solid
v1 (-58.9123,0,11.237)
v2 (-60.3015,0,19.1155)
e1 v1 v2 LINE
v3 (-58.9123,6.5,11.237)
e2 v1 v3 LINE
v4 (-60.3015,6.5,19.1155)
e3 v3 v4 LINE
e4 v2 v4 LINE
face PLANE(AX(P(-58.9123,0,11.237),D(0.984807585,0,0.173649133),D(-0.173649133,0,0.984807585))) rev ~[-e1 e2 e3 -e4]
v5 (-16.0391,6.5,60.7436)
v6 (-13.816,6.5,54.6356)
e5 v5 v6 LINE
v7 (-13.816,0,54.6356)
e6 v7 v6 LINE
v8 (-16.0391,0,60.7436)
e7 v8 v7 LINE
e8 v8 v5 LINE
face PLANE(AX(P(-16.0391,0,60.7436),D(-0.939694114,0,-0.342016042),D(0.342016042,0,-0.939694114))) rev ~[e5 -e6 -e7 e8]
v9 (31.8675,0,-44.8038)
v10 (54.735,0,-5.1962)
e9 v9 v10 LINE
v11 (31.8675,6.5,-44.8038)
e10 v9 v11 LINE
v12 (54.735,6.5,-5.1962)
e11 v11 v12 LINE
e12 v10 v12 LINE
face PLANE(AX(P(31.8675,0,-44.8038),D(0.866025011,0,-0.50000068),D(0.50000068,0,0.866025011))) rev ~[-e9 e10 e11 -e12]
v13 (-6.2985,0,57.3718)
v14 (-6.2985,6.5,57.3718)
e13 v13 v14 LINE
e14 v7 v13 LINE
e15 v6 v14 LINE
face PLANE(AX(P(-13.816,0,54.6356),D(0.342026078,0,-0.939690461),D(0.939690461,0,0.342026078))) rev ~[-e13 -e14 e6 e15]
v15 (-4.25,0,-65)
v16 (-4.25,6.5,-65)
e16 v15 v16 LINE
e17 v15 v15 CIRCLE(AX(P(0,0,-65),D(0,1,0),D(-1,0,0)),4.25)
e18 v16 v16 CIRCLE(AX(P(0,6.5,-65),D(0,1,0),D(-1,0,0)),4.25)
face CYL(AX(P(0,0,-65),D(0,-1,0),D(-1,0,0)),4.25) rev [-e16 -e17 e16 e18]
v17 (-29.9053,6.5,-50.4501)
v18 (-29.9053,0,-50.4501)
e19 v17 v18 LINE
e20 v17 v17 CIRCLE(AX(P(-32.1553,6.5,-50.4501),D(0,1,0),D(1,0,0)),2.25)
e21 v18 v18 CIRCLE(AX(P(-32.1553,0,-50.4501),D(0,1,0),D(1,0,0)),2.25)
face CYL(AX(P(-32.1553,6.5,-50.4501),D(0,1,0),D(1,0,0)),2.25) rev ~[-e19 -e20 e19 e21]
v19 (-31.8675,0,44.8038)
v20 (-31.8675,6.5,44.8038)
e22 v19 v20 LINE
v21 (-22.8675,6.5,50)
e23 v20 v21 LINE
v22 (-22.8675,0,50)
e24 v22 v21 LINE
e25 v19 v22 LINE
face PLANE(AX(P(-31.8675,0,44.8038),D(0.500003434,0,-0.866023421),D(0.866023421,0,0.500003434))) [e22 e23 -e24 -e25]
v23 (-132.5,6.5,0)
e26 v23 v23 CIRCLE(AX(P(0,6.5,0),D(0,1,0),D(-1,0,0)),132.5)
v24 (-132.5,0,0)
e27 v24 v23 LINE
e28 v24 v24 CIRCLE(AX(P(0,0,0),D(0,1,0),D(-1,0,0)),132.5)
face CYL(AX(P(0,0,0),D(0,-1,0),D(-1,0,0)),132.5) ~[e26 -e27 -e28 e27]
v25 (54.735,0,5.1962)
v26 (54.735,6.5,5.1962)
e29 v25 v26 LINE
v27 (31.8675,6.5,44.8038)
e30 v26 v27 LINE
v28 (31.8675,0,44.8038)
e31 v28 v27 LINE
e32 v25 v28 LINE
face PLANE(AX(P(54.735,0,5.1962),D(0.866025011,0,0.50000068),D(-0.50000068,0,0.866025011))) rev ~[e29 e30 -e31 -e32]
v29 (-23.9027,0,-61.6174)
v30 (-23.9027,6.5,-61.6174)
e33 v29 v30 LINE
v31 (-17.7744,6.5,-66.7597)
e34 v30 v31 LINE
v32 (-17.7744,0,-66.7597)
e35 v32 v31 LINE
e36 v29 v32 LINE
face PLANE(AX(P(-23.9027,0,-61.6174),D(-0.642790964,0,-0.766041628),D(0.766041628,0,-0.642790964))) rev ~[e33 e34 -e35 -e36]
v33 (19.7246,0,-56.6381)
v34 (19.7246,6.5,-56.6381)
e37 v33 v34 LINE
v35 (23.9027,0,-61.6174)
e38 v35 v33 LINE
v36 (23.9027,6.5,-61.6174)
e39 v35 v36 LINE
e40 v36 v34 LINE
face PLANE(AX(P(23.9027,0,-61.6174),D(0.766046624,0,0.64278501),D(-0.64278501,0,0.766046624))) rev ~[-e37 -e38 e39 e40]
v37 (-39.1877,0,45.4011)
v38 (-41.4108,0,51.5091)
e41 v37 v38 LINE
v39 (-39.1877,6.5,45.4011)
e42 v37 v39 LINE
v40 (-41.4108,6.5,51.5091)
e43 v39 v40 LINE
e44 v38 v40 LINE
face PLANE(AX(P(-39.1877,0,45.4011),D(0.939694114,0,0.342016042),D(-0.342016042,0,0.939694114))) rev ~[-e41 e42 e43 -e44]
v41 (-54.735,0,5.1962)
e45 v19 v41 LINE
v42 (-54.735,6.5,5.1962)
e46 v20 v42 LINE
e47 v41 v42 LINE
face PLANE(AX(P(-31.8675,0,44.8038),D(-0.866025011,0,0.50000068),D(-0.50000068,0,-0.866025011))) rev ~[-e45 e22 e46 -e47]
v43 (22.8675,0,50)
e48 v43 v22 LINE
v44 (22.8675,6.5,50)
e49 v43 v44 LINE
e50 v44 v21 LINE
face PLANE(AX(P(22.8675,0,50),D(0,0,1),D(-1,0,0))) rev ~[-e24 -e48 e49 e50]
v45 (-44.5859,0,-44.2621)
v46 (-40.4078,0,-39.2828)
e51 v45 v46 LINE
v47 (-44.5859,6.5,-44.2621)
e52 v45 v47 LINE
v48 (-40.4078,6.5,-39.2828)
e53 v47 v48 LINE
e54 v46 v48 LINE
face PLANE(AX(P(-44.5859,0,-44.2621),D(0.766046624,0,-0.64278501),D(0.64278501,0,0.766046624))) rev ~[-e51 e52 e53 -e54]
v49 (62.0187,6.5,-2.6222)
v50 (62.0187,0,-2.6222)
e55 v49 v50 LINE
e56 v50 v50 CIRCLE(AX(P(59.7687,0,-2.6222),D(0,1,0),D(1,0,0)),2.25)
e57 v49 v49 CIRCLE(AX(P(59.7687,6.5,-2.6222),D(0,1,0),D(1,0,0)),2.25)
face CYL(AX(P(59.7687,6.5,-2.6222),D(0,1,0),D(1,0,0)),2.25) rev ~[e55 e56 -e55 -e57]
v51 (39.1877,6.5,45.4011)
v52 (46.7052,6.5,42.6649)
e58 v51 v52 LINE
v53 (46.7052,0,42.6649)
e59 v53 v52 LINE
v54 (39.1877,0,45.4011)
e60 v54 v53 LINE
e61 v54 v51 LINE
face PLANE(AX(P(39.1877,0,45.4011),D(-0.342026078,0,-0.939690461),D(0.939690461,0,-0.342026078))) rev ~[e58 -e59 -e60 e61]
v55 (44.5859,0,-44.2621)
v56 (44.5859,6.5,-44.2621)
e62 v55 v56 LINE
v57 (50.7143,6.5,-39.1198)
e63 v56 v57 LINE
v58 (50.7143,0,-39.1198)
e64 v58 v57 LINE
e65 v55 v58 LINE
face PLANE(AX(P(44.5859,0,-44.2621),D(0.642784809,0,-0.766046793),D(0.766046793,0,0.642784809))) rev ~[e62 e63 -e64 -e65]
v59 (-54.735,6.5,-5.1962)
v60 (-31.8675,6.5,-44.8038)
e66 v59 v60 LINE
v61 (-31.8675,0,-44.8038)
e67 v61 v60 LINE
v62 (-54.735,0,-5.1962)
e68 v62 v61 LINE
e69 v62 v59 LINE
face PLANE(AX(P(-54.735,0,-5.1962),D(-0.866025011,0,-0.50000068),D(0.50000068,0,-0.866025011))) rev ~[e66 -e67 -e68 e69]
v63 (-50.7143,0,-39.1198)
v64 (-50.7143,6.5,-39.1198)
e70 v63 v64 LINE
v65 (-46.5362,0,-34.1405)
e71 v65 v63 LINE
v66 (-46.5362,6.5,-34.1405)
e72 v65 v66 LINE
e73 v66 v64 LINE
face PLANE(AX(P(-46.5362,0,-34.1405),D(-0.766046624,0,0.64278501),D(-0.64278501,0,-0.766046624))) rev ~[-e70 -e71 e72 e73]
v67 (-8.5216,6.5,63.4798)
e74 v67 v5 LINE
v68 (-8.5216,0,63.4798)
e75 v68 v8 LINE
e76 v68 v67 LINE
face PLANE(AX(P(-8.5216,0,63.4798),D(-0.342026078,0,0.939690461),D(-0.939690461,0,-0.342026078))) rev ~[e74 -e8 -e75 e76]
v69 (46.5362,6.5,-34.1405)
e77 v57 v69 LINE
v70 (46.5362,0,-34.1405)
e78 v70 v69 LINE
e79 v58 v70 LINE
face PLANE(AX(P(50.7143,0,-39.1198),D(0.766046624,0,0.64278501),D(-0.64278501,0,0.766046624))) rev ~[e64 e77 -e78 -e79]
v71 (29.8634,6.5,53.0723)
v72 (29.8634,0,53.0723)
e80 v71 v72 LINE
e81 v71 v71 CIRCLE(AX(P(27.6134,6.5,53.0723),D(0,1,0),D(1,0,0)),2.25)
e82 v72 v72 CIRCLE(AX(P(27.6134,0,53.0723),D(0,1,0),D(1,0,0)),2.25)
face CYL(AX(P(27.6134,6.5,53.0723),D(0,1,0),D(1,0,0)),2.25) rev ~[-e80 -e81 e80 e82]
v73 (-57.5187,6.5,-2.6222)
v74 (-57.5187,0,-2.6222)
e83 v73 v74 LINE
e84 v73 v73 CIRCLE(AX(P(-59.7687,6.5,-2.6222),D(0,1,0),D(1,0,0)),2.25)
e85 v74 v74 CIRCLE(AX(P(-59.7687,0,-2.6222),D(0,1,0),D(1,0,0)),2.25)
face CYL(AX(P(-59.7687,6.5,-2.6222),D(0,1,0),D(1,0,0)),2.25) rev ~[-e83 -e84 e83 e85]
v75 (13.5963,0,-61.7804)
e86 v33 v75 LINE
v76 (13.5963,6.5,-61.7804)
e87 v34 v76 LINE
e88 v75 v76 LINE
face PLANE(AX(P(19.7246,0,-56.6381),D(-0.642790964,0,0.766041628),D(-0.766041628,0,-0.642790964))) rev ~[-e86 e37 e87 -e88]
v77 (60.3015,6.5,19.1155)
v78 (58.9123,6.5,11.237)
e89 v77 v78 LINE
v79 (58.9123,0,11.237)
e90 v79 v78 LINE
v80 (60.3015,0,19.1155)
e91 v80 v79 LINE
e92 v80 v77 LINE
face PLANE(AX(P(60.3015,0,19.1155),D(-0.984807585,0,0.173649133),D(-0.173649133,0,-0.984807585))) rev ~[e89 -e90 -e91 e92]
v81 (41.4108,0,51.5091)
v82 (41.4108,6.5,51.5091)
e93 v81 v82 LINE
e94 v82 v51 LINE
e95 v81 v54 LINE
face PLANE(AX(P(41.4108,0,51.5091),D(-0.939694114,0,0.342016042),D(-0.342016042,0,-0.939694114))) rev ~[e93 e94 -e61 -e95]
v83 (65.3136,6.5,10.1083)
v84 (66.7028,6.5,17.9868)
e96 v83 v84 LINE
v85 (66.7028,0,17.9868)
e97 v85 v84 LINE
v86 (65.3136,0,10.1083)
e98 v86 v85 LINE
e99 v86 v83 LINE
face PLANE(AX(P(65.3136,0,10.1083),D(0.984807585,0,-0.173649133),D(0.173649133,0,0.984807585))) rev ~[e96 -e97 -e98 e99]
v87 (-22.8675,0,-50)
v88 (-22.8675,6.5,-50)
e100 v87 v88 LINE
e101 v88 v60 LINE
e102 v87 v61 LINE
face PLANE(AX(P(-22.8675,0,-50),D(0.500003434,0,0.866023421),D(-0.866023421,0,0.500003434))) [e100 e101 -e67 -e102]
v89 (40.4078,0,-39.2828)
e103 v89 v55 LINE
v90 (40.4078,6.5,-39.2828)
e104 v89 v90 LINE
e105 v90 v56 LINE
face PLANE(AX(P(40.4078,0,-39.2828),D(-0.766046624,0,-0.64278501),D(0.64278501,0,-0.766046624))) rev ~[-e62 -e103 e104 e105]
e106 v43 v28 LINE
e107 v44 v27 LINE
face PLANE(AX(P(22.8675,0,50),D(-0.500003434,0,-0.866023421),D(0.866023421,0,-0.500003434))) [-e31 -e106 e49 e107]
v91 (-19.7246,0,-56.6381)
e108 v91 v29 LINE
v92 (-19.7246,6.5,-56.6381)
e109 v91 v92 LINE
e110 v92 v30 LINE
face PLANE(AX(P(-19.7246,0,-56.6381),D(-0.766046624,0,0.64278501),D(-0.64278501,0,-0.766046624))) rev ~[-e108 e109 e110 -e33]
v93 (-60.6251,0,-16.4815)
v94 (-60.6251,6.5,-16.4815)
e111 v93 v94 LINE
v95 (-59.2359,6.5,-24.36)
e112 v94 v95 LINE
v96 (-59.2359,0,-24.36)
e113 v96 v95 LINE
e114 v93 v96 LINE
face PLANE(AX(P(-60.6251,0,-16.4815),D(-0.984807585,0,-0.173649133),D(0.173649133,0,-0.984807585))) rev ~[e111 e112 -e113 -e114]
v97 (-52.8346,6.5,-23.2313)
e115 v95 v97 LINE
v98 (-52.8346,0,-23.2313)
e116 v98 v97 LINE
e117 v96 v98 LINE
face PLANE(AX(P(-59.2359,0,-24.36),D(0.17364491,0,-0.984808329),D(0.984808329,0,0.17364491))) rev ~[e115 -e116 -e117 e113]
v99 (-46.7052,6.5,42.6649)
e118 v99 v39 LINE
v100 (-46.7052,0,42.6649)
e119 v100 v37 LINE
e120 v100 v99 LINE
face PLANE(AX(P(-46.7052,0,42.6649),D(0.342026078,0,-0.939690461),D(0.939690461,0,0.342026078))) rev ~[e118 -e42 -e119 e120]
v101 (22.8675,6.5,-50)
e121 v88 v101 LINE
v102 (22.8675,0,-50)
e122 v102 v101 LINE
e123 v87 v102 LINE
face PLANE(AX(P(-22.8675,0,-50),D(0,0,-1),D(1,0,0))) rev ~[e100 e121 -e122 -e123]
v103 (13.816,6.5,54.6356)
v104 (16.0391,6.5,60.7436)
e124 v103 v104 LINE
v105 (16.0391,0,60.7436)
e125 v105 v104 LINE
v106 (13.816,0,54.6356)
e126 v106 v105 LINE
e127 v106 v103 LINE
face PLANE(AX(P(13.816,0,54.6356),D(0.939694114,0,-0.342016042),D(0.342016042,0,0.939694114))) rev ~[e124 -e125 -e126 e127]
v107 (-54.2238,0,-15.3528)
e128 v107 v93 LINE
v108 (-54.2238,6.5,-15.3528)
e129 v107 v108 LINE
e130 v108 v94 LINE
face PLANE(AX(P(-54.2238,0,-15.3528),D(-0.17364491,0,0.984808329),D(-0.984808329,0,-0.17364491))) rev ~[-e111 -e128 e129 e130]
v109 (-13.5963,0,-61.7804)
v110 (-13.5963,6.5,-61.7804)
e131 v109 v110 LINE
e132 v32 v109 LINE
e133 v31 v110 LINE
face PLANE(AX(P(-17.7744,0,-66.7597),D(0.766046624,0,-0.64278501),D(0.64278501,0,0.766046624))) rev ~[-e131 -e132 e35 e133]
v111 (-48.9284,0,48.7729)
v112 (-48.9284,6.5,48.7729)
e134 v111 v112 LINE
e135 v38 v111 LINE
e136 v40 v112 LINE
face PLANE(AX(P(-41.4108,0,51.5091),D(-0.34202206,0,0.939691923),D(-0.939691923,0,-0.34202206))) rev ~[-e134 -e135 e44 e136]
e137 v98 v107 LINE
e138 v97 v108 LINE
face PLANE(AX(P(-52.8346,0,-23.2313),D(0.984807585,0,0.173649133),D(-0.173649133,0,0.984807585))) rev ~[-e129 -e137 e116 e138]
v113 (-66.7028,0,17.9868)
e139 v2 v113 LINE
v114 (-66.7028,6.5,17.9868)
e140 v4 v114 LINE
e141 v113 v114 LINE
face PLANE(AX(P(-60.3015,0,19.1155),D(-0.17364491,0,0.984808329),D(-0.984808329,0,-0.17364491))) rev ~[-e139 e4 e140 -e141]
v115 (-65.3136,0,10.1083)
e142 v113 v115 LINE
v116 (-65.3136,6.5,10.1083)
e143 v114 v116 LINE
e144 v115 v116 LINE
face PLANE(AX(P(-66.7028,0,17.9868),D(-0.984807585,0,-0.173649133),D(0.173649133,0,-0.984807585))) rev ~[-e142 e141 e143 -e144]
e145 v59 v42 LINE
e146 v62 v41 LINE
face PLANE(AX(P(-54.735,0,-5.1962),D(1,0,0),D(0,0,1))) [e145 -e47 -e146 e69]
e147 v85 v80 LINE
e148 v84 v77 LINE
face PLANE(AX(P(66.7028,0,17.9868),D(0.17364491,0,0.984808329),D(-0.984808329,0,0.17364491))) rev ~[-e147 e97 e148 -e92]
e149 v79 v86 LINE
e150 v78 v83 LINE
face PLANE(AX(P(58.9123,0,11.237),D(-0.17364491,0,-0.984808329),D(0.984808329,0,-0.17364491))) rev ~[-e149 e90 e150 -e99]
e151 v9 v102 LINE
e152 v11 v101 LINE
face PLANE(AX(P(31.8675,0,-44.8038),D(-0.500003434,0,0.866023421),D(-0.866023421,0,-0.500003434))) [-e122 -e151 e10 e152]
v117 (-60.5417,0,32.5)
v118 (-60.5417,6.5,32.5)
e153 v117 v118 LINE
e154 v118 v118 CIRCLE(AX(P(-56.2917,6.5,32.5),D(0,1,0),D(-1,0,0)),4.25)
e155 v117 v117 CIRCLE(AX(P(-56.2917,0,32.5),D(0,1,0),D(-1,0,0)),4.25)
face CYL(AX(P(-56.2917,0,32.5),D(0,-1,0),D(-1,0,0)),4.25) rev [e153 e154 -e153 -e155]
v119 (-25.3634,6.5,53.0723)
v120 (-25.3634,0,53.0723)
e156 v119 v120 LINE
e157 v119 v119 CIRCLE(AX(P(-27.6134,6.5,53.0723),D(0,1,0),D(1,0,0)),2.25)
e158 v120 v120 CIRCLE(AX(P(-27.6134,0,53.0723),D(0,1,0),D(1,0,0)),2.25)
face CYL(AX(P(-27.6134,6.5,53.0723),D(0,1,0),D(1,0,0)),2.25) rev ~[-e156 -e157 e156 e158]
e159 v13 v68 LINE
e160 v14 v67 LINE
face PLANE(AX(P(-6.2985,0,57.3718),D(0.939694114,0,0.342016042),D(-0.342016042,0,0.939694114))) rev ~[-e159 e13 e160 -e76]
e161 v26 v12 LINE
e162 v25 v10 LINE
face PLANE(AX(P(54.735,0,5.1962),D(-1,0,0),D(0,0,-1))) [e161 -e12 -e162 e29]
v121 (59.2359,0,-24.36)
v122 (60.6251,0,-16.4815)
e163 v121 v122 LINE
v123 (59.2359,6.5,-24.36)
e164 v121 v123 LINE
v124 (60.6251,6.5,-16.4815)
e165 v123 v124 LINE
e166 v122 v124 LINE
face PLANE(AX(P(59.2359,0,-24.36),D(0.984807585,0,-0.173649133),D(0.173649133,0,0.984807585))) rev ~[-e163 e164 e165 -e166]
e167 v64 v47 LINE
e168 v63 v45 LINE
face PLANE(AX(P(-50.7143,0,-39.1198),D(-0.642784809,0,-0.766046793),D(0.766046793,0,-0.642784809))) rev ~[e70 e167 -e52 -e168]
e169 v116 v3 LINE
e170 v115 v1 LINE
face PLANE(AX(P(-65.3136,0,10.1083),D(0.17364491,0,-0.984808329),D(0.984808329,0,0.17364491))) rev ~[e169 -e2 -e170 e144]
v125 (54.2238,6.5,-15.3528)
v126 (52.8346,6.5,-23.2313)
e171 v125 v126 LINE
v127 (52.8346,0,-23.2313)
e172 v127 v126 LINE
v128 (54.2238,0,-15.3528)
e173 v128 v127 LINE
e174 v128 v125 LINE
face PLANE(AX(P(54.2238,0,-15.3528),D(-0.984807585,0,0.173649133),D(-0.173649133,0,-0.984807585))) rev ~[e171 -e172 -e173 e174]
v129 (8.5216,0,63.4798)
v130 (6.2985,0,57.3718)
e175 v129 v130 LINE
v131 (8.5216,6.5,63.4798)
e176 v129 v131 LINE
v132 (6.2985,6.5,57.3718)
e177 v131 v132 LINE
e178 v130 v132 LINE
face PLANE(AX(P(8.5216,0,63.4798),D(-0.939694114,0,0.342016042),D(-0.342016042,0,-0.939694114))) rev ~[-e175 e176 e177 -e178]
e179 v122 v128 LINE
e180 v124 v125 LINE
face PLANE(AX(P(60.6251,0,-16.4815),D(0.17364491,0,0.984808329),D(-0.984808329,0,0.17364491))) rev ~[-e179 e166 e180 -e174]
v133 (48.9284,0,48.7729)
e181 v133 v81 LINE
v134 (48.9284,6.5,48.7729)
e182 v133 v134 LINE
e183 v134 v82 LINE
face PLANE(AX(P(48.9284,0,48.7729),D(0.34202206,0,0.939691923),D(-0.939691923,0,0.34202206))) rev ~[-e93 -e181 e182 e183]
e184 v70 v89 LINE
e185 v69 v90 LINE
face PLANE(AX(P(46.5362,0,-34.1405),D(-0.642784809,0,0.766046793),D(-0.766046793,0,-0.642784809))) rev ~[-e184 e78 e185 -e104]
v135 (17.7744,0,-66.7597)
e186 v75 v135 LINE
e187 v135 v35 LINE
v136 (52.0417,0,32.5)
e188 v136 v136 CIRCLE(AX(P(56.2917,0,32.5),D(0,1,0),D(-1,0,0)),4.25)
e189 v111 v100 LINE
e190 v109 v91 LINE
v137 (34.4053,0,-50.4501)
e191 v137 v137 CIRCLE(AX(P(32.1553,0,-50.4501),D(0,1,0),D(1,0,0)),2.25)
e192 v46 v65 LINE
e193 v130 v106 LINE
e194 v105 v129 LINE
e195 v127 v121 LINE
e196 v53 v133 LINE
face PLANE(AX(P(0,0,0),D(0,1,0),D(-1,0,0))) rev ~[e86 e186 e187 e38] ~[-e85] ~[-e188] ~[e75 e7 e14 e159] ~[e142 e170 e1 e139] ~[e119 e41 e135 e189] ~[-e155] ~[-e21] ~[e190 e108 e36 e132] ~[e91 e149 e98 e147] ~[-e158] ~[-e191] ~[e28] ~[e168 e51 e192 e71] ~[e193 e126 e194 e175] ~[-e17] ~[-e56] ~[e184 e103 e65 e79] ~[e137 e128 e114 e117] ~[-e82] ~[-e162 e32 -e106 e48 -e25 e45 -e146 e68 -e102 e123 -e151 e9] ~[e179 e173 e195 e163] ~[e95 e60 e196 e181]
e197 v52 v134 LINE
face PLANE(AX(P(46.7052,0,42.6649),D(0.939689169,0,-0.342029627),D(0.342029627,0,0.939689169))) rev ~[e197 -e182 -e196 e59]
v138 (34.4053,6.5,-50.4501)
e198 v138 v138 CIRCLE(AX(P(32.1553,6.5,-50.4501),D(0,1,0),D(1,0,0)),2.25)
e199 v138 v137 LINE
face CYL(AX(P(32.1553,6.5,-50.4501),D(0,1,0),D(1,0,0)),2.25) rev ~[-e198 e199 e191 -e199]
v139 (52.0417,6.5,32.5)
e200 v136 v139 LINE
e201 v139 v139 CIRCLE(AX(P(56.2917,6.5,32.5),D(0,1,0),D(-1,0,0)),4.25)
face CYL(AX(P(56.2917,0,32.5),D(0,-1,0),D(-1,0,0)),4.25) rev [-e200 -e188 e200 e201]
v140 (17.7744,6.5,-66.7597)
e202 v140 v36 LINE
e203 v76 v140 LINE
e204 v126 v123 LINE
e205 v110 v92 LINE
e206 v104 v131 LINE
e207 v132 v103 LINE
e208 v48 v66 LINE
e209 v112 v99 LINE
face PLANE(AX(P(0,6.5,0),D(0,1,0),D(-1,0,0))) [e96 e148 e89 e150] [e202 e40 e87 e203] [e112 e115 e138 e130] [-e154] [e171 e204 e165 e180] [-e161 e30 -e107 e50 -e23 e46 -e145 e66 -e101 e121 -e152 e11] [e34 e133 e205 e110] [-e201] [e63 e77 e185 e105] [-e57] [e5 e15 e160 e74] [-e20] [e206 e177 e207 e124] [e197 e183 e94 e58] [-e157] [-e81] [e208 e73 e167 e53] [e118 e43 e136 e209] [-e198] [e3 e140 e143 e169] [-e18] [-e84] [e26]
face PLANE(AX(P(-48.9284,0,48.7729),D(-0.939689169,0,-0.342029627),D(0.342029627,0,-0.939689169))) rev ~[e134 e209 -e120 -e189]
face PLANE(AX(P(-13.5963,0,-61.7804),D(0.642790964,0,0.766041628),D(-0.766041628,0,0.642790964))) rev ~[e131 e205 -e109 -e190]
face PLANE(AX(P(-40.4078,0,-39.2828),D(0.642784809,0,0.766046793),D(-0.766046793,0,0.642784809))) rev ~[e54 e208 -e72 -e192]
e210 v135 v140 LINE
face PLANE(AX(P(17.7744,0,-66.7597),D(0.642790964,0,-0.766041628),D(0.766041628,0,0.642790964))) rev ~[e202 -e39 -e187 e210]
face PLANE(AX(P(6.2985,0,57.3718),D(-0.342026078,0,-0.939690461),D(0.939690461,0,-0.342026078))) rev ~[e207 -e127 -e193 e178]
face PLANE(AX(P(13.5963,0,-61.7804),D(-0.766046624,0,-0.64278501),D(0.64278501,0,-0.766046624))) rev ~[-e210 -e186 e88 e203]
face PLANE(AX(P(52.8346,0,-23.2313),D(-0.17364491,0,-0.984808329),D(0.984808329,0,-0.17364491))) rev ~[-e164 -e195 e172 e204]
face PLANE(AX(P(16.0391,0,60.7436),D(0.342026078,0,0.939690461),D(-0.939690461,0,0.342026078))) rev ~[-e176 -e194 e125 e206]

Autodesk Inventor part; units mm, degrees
ref_plane "YZ Plane" through (0, 0, 0) normal (1, 0, 0) x (0, 1, 0)
ref_plane "XZ Plane" through (0, 0, 0) normal (0, 1, 0) x (-1, 0, 0)
ref_plane "XY Plane" through (0, 0, 0) normal (0, 0, 1) x (1, 0, 0)
sketch "Sketch1" plane through (0, 0, 0) normal (0, 1, 0) x (-1, 0, 0)
  circle A0 centre (0, 0) radius 75 construction
  line L0 (67.7446, 23.8956) -> (61.3434, 25.0243) construction
  line L1 (61.3434, 25.0243) -> (51.7927, -29.1401) construction
  line L2 (51.7927, -29.1401) -> (58.194, -30.2688) construction
  line L3 (58.194, -30.2688) -> (67.7446, 23.8956) construction
  line L4 (55.3106, -35.2631) -> (51.1324, -30.2838) construction
  line L5 (51.1324, -30.2838) -> (9, -65.6371) construction
  line L6 (9, -65.6371) -> (13.1781, -70.6164) construction
  line L7 (13.1781, -70.6164) -> (55.3106, -35.2631) construction
  line L8 (-13.1781, -70.6164) -> (-9, -65.6371) construction
  line L9 (-9, -65.6371) -> (-51.1324, -30.2838) construction
  line L10 (-51.1324, -30.2838) -> (-55.3106, -35.2631) construction
  line L11 (-55.3106, -35.2631) -> (-13.1781, -70.6164) construction
  line L12 (-58.194, -30.2688) -> (-51.7927, -29.1401) construction
  line L13 (-51.7927, -29.1401) -> (-61.3434, 25.0243) construction
  line L14 (-61.3434, 25.0243) -> (-67.7446, 23.8956) construction
  line L15 (-67.7446, 23.8956) -> (-58.194, -30.2688) construction
  line L16 (52.3434, 40.6128) -> (54.5665, 46.7208) construction
  line L17 (54.5665, 46.7208) -> (2.8834, 65.5319) construction
  line L18 (2.8834, 65.5319) -> (0.6603, 59.4239) construction
  line L19 (0.6603, 59.4239) -> (52.3434, 40.6128) construction
  line L20 (-0.6603, 59.4239) -> (-2.8834, 65.5319) construction
  line L21 (-2.8834, 65.5319) -> (-54.5665, 46.7208) construction
  line L22 (-54.5665, 46.7208) -> (-52.3434, 40.6128) construction
  line L23 (-52.3434, 40.6128) -> (-0.6603, 59.4239) construction
  line L24 (9, -65.6371) -> (61.3434, 25.0243) construction
  line L25 (52.3434, 40.6128) -> (-52.3434, 40.6128) construction
  line L26 (-61.3434, 25.0243) -> (-9, -65.6371) construction
  arc A1 (67.7446, 23.8956) -> (54.5665, 46.7208) centre (45.8993, 26.5) ccw construction
  arc A2 (-13.1781, -70.6164) -> (13.1781, -70.6164) centre (0, -53) ccw construction
  arc A3 (-54.5665, 46.7208) -> (-67.7446, 23.8956) centre (-45.8993, 26.5) ccw construction
  circle A4 centre (56.2917, 32.5) radius 4.25
  circle A5 centre (0, 0) radius 132.5
  line L27 (-22.8675, 50) -> (22.8675, 50)
  line L28 (31.8675, 44.8038) -> (54.735, 5.1962)
  line L29 (54.735, -5.1962) -> (31.8675, -44.8038)
  line L30 (22.8675, -50) -> (-22.8675, -50)
  line L31 (-31.8675, -44.8038) -> (-54.735, -5.1962)
  line L32 (-54.735, 5.1962) -> (-31.8675, 44.8038)
  line L33 (54.735, -5.1962) -> (54.735, 5.1962)
  line L34 (31.8675, 44.8038) -> (22.8675, 50)
  line L35 (-22.8675, 50) -> (-31.8675, 44.8038)
  line L36 (-54.735, 5.1962) -> (-54.735, -5.1962)
  line L37 (-31.8675, -44.8038) -> (-22.8675, -50)
  line L38 (22.8675, -50) -> (31.8675, -44.8038)
  line L39 (45.8993, 26.5) -> (0, 0) construction
  line L40 (0, 0) -> (0, -53) construction
  line L41 (0, 0) -> (-45.8993, 26.5) construction
  circle A6 centre (0, -65) radius 4.25
  circle A7 centre (-56.2917, 32.5) radius 4.25
  line L42 (-60.3015, 19.1155) -> (-58.9123, 11.237)
  line L43 (-58.9123, 11.237) -> (-65.3136, 10.1083)
  line L44 (-65.3136, 10.1083) -> (-66.7028, 17.9868)
  line L45 (-66.7028, 17.9868) -> (-60.3015, 19.1155)
  line L46 (-19.7246, -56.6381) -> (-13.5963, -61.7804)
  line L47 (-13.5963, -61.7804) -> (-17.7744, -66.7597)
  line L48 (-17.7744, -66.7597) -> (-23.9027, -61.6174)
  line L49 (-23.9027, -61.6174) -> (-19.7246, -56.6381)
  line L50 (50.7143, -39.1198) -> (44.5859, -44.2621)
  line L51 (44.5859, -44.2621) -> (40.4078, -39.2828)
  line L52 (40.4078, -39.2828) -> (46.5362, -34.1405)
  line L53 (46.5362, -34.1405) -> (50.7143, -39.1198)
  line L54 (-46.5362, -34.1405) -> (-40.4078, -39.2828)
  line L55 (-40.4078, -39.2828) -> (-44.5859, -44.2621)
  line L56 (-44.5859, -44.2621) -> (-50.7143, -39.1198)
  line L57 (-50.7143, -39.1198) -> (-46.5362, -34.1405)
  line L58 (-54.2238, -15.3528) -> (-52.8346, -23.2313)
  line L59 (-52.8346, -23.2313) -> (-59.2359, -24.36)
  line L60 (-59.2359, -24.36) -> (-60.6251, -16.4815)
  line L61 (-60.6251, -16.4815) -> (-54.2238, -15.3528)
  line L62 (-16.0391, 60.7436) -> (-8.5216, 63.4798)
  line L63 (-8.5216, 63.4798) -> (-6.2985, 57.3718)
  line L64 (-6.2985, 57.3718) -> (-13.816, 54.6356)
  line L65 (-13.816, 54.6356) -> (-16.0391, 60.7436)
  line L66 (-48.9284, 48.7729) -> (-41.4108, 51.5091)
  line L67 (-41.4108, 51.5091) -> (-39.1877, 45.4011)
  line L68 (-39.1877, 45.4011) -> (-46.7052, 42.6649)
  line L69 (-46.7052, 42.6649) -> (-48.9284, 48.7729)
  line L70 (8.5216, 63.4798) -> (16.0391, 60.7436)
  line L71 (16.0391, 60.7436) -> (13.816, 54.6356)
  line L72 (13.816, 54.6356) -> (6.2985, 57.3718)
  line L73 (6.2985, 57.3718) -> (8.5216, 63.4798)
  line L74 (41.4108, 51.5091) -> (48.9284, 48.7729)
  line L75 (48.9284, 48.7729) -> (46.7052, 42.6649)
  line L76 (46.7052, 42.6649) -> (39.1877, 45.4011)
  line L77 (39.1877, 45.4011) -> (41.4108, 51.5091)
  line L78 (66.7028, 17.9868) -> (65.3136, 10.1083)
  line L79 (65.3136, 10.1083) -> (58.9123, 11.237)
  line L80 (58.9123, 11.237) -> (60.3015, 19.1155)
  line L81 (60.3015, 19.1155) -> (66.7028, 17.9868)
  line L82 (60.6251, -16.4815) -> (59.2359, -24.36)
  line L83 (59.2359, -24.36) -> (52.8346, -23.2313)
  line L84 (52.8346, -23.2313) -> (54.2238, -15.3528)
  line L85 (54.2238, -15.3528) -> (60.6251, -16.4815)
  line L86 (23.9027, -61.6174) -> (17.7744, -66.7597)
  line L87 (17.7744, -66.7597) -> (13.5963, -61.7804)
  line L88 (13.5963, -61.7804) -> (19.7246, -56.6381)
  line L89 (19.7246, -56.6381) -> (23.9027, -61.6174)
  circle A8 centre (56.2917, 32.5) radius 14 construction
  circle A9 centre (-56.2917, 32.5) radius 14 construction
  circle A10 centre (0, -65) radius 14 construction
  point P0 (-28.8675, 50)
  point P1 (28.8675, 50)
  point P2 (57.735, 0)
  point P3 (28.8675, -50)
  point P4 (-28.8675, -50)
  point P5 (-57.735, 0)
  dimension "d0" = 150
  dimension "d8" = 6.5
  dimension "d9" = 18
  dimension "d10" = 18
  dimension "d11" = 18
  dimension "d13" = 60
  dimension "d14" = 20
  dimension "d15" = 20
  dimension "d16" = 20
  dimension "d17" = 20
  dimension "d18" = 20
  dimension "d19" = 20
  dimension "d21" = 60
  dimension "d23" = 22
  dimension "d24" = 8.5
  dimension "d25" = 265
  dimension "d26" = 55
  dimension "d27" = 6
  dimension "d28" = 6
  dimension "d29" = 6
  dimension "d30" = 6
  dimension "d31" = 6
  dimension "d32" = 6
  dimension "d33" = 6
  dimension "d34" = 6
  dimension "d35" = 6
  dimension "d36" = 6
  dimension "d37" = 6
  dimension "d38" = 6
  dimension "d39" = 65
  dimension "d40" = 50
  dimension "d41" = 65
  dimension "d42" = 65
  dimension "d43" = 6.5
  dimension "d44" = 8
  dimension "d45" = 6
  dimension "d46" = 6
  dimension "d47" = 6
  dimension "d48" = 6
  dimension "d49" = 6
  dimension "d50" = 6
  dimension "d51" = 6
  dimension "d52" = 6
  dimension "d53" = 6
  dimension "d54" = 6
  dimension "d55" = 6
  dimension "d56" = 6
  dimension "d62" = 28
extrude "Extrusion1" add sketch "Sketch1" along normal blind 6.5
sketch "Sketch2" plane through (0, 6.5, 0) normal (0, 1, 0) x (1, 0, 0)
  line L0 (-44.5859, 44.2621) -> (-19.7246, 56.6381) construction
  line L1 (-23.9027, 61.6174) -> (-40.4078, 39.2828) construction
  line L2 (23.9027, 61.6174) -> (40.4078, 39.2828) construction
  line L3 (44.5859, 44.2621) -> (19.7246, 56.6381) construction
  line L4 (60.6251, 16.4815) -> (58.9123, -11.237) construction
  line L5 (65.3136, -10.1083) -> (54.2238, 15.3528) construction
  line L6 (41.4108, -51.5091) -> (13.816, -54.6356) construction
  line L7 (16.0391, -60.7436) -> (39.1877, -45.4011) construction
  line L8 (-13.816, -54.6356) -> (-41.4108, -51.5091) construction
  line L9 (-39.1877, -45.4011) -> (-16.0391, -60.7436) construction
  line L10 (-60.6251, 16.4815) -> (-58.9123, -11.237) construction
  line L11 (-65.3136, -10.1083) -> (-54.2238, 15.3528) construction
  circle A0 centre (-59.7687, 2.6222) radius 2.25
  circle A1 centre (-32.1553, 50.4501) radius 2.25
  circle A2 centre (32.1553, 50.4501) radius 2.25
  circle A3 centre (59.7687, 2.6222) radius 2.25
  circle A4 centre (27.6134, -53.0723) radius 2.25
  circle A5 centre (-27.6134, -53.0723) radius 2.25
  dimension "d59" = 4.5
extrude "Extrusion2" cut sketch "Sketch2" against normal through all
equation "\"d15\" = d14"
equation "\"d16\" = d15"
equation "\"d17\" = d15"
equation "\"d18\" = d15"
equation "\"d19\" = d15"
equation "\"d28\" = d27"
equation "\"d29\" = d27"
equation "\"d30\" = d29"
equation "\"d31\" = d27"
equation "\"d32\" = d31"
equation "\"d33\" = d27"
equation "\"d34\" = d33"
equation "\"d35\" = d27"
equation "\"d36\" = d35"
equation "\"d37\" = d27"
equation "\"d38\" = d37"
properties part number "spool_a" material "Plywood, Finish"
